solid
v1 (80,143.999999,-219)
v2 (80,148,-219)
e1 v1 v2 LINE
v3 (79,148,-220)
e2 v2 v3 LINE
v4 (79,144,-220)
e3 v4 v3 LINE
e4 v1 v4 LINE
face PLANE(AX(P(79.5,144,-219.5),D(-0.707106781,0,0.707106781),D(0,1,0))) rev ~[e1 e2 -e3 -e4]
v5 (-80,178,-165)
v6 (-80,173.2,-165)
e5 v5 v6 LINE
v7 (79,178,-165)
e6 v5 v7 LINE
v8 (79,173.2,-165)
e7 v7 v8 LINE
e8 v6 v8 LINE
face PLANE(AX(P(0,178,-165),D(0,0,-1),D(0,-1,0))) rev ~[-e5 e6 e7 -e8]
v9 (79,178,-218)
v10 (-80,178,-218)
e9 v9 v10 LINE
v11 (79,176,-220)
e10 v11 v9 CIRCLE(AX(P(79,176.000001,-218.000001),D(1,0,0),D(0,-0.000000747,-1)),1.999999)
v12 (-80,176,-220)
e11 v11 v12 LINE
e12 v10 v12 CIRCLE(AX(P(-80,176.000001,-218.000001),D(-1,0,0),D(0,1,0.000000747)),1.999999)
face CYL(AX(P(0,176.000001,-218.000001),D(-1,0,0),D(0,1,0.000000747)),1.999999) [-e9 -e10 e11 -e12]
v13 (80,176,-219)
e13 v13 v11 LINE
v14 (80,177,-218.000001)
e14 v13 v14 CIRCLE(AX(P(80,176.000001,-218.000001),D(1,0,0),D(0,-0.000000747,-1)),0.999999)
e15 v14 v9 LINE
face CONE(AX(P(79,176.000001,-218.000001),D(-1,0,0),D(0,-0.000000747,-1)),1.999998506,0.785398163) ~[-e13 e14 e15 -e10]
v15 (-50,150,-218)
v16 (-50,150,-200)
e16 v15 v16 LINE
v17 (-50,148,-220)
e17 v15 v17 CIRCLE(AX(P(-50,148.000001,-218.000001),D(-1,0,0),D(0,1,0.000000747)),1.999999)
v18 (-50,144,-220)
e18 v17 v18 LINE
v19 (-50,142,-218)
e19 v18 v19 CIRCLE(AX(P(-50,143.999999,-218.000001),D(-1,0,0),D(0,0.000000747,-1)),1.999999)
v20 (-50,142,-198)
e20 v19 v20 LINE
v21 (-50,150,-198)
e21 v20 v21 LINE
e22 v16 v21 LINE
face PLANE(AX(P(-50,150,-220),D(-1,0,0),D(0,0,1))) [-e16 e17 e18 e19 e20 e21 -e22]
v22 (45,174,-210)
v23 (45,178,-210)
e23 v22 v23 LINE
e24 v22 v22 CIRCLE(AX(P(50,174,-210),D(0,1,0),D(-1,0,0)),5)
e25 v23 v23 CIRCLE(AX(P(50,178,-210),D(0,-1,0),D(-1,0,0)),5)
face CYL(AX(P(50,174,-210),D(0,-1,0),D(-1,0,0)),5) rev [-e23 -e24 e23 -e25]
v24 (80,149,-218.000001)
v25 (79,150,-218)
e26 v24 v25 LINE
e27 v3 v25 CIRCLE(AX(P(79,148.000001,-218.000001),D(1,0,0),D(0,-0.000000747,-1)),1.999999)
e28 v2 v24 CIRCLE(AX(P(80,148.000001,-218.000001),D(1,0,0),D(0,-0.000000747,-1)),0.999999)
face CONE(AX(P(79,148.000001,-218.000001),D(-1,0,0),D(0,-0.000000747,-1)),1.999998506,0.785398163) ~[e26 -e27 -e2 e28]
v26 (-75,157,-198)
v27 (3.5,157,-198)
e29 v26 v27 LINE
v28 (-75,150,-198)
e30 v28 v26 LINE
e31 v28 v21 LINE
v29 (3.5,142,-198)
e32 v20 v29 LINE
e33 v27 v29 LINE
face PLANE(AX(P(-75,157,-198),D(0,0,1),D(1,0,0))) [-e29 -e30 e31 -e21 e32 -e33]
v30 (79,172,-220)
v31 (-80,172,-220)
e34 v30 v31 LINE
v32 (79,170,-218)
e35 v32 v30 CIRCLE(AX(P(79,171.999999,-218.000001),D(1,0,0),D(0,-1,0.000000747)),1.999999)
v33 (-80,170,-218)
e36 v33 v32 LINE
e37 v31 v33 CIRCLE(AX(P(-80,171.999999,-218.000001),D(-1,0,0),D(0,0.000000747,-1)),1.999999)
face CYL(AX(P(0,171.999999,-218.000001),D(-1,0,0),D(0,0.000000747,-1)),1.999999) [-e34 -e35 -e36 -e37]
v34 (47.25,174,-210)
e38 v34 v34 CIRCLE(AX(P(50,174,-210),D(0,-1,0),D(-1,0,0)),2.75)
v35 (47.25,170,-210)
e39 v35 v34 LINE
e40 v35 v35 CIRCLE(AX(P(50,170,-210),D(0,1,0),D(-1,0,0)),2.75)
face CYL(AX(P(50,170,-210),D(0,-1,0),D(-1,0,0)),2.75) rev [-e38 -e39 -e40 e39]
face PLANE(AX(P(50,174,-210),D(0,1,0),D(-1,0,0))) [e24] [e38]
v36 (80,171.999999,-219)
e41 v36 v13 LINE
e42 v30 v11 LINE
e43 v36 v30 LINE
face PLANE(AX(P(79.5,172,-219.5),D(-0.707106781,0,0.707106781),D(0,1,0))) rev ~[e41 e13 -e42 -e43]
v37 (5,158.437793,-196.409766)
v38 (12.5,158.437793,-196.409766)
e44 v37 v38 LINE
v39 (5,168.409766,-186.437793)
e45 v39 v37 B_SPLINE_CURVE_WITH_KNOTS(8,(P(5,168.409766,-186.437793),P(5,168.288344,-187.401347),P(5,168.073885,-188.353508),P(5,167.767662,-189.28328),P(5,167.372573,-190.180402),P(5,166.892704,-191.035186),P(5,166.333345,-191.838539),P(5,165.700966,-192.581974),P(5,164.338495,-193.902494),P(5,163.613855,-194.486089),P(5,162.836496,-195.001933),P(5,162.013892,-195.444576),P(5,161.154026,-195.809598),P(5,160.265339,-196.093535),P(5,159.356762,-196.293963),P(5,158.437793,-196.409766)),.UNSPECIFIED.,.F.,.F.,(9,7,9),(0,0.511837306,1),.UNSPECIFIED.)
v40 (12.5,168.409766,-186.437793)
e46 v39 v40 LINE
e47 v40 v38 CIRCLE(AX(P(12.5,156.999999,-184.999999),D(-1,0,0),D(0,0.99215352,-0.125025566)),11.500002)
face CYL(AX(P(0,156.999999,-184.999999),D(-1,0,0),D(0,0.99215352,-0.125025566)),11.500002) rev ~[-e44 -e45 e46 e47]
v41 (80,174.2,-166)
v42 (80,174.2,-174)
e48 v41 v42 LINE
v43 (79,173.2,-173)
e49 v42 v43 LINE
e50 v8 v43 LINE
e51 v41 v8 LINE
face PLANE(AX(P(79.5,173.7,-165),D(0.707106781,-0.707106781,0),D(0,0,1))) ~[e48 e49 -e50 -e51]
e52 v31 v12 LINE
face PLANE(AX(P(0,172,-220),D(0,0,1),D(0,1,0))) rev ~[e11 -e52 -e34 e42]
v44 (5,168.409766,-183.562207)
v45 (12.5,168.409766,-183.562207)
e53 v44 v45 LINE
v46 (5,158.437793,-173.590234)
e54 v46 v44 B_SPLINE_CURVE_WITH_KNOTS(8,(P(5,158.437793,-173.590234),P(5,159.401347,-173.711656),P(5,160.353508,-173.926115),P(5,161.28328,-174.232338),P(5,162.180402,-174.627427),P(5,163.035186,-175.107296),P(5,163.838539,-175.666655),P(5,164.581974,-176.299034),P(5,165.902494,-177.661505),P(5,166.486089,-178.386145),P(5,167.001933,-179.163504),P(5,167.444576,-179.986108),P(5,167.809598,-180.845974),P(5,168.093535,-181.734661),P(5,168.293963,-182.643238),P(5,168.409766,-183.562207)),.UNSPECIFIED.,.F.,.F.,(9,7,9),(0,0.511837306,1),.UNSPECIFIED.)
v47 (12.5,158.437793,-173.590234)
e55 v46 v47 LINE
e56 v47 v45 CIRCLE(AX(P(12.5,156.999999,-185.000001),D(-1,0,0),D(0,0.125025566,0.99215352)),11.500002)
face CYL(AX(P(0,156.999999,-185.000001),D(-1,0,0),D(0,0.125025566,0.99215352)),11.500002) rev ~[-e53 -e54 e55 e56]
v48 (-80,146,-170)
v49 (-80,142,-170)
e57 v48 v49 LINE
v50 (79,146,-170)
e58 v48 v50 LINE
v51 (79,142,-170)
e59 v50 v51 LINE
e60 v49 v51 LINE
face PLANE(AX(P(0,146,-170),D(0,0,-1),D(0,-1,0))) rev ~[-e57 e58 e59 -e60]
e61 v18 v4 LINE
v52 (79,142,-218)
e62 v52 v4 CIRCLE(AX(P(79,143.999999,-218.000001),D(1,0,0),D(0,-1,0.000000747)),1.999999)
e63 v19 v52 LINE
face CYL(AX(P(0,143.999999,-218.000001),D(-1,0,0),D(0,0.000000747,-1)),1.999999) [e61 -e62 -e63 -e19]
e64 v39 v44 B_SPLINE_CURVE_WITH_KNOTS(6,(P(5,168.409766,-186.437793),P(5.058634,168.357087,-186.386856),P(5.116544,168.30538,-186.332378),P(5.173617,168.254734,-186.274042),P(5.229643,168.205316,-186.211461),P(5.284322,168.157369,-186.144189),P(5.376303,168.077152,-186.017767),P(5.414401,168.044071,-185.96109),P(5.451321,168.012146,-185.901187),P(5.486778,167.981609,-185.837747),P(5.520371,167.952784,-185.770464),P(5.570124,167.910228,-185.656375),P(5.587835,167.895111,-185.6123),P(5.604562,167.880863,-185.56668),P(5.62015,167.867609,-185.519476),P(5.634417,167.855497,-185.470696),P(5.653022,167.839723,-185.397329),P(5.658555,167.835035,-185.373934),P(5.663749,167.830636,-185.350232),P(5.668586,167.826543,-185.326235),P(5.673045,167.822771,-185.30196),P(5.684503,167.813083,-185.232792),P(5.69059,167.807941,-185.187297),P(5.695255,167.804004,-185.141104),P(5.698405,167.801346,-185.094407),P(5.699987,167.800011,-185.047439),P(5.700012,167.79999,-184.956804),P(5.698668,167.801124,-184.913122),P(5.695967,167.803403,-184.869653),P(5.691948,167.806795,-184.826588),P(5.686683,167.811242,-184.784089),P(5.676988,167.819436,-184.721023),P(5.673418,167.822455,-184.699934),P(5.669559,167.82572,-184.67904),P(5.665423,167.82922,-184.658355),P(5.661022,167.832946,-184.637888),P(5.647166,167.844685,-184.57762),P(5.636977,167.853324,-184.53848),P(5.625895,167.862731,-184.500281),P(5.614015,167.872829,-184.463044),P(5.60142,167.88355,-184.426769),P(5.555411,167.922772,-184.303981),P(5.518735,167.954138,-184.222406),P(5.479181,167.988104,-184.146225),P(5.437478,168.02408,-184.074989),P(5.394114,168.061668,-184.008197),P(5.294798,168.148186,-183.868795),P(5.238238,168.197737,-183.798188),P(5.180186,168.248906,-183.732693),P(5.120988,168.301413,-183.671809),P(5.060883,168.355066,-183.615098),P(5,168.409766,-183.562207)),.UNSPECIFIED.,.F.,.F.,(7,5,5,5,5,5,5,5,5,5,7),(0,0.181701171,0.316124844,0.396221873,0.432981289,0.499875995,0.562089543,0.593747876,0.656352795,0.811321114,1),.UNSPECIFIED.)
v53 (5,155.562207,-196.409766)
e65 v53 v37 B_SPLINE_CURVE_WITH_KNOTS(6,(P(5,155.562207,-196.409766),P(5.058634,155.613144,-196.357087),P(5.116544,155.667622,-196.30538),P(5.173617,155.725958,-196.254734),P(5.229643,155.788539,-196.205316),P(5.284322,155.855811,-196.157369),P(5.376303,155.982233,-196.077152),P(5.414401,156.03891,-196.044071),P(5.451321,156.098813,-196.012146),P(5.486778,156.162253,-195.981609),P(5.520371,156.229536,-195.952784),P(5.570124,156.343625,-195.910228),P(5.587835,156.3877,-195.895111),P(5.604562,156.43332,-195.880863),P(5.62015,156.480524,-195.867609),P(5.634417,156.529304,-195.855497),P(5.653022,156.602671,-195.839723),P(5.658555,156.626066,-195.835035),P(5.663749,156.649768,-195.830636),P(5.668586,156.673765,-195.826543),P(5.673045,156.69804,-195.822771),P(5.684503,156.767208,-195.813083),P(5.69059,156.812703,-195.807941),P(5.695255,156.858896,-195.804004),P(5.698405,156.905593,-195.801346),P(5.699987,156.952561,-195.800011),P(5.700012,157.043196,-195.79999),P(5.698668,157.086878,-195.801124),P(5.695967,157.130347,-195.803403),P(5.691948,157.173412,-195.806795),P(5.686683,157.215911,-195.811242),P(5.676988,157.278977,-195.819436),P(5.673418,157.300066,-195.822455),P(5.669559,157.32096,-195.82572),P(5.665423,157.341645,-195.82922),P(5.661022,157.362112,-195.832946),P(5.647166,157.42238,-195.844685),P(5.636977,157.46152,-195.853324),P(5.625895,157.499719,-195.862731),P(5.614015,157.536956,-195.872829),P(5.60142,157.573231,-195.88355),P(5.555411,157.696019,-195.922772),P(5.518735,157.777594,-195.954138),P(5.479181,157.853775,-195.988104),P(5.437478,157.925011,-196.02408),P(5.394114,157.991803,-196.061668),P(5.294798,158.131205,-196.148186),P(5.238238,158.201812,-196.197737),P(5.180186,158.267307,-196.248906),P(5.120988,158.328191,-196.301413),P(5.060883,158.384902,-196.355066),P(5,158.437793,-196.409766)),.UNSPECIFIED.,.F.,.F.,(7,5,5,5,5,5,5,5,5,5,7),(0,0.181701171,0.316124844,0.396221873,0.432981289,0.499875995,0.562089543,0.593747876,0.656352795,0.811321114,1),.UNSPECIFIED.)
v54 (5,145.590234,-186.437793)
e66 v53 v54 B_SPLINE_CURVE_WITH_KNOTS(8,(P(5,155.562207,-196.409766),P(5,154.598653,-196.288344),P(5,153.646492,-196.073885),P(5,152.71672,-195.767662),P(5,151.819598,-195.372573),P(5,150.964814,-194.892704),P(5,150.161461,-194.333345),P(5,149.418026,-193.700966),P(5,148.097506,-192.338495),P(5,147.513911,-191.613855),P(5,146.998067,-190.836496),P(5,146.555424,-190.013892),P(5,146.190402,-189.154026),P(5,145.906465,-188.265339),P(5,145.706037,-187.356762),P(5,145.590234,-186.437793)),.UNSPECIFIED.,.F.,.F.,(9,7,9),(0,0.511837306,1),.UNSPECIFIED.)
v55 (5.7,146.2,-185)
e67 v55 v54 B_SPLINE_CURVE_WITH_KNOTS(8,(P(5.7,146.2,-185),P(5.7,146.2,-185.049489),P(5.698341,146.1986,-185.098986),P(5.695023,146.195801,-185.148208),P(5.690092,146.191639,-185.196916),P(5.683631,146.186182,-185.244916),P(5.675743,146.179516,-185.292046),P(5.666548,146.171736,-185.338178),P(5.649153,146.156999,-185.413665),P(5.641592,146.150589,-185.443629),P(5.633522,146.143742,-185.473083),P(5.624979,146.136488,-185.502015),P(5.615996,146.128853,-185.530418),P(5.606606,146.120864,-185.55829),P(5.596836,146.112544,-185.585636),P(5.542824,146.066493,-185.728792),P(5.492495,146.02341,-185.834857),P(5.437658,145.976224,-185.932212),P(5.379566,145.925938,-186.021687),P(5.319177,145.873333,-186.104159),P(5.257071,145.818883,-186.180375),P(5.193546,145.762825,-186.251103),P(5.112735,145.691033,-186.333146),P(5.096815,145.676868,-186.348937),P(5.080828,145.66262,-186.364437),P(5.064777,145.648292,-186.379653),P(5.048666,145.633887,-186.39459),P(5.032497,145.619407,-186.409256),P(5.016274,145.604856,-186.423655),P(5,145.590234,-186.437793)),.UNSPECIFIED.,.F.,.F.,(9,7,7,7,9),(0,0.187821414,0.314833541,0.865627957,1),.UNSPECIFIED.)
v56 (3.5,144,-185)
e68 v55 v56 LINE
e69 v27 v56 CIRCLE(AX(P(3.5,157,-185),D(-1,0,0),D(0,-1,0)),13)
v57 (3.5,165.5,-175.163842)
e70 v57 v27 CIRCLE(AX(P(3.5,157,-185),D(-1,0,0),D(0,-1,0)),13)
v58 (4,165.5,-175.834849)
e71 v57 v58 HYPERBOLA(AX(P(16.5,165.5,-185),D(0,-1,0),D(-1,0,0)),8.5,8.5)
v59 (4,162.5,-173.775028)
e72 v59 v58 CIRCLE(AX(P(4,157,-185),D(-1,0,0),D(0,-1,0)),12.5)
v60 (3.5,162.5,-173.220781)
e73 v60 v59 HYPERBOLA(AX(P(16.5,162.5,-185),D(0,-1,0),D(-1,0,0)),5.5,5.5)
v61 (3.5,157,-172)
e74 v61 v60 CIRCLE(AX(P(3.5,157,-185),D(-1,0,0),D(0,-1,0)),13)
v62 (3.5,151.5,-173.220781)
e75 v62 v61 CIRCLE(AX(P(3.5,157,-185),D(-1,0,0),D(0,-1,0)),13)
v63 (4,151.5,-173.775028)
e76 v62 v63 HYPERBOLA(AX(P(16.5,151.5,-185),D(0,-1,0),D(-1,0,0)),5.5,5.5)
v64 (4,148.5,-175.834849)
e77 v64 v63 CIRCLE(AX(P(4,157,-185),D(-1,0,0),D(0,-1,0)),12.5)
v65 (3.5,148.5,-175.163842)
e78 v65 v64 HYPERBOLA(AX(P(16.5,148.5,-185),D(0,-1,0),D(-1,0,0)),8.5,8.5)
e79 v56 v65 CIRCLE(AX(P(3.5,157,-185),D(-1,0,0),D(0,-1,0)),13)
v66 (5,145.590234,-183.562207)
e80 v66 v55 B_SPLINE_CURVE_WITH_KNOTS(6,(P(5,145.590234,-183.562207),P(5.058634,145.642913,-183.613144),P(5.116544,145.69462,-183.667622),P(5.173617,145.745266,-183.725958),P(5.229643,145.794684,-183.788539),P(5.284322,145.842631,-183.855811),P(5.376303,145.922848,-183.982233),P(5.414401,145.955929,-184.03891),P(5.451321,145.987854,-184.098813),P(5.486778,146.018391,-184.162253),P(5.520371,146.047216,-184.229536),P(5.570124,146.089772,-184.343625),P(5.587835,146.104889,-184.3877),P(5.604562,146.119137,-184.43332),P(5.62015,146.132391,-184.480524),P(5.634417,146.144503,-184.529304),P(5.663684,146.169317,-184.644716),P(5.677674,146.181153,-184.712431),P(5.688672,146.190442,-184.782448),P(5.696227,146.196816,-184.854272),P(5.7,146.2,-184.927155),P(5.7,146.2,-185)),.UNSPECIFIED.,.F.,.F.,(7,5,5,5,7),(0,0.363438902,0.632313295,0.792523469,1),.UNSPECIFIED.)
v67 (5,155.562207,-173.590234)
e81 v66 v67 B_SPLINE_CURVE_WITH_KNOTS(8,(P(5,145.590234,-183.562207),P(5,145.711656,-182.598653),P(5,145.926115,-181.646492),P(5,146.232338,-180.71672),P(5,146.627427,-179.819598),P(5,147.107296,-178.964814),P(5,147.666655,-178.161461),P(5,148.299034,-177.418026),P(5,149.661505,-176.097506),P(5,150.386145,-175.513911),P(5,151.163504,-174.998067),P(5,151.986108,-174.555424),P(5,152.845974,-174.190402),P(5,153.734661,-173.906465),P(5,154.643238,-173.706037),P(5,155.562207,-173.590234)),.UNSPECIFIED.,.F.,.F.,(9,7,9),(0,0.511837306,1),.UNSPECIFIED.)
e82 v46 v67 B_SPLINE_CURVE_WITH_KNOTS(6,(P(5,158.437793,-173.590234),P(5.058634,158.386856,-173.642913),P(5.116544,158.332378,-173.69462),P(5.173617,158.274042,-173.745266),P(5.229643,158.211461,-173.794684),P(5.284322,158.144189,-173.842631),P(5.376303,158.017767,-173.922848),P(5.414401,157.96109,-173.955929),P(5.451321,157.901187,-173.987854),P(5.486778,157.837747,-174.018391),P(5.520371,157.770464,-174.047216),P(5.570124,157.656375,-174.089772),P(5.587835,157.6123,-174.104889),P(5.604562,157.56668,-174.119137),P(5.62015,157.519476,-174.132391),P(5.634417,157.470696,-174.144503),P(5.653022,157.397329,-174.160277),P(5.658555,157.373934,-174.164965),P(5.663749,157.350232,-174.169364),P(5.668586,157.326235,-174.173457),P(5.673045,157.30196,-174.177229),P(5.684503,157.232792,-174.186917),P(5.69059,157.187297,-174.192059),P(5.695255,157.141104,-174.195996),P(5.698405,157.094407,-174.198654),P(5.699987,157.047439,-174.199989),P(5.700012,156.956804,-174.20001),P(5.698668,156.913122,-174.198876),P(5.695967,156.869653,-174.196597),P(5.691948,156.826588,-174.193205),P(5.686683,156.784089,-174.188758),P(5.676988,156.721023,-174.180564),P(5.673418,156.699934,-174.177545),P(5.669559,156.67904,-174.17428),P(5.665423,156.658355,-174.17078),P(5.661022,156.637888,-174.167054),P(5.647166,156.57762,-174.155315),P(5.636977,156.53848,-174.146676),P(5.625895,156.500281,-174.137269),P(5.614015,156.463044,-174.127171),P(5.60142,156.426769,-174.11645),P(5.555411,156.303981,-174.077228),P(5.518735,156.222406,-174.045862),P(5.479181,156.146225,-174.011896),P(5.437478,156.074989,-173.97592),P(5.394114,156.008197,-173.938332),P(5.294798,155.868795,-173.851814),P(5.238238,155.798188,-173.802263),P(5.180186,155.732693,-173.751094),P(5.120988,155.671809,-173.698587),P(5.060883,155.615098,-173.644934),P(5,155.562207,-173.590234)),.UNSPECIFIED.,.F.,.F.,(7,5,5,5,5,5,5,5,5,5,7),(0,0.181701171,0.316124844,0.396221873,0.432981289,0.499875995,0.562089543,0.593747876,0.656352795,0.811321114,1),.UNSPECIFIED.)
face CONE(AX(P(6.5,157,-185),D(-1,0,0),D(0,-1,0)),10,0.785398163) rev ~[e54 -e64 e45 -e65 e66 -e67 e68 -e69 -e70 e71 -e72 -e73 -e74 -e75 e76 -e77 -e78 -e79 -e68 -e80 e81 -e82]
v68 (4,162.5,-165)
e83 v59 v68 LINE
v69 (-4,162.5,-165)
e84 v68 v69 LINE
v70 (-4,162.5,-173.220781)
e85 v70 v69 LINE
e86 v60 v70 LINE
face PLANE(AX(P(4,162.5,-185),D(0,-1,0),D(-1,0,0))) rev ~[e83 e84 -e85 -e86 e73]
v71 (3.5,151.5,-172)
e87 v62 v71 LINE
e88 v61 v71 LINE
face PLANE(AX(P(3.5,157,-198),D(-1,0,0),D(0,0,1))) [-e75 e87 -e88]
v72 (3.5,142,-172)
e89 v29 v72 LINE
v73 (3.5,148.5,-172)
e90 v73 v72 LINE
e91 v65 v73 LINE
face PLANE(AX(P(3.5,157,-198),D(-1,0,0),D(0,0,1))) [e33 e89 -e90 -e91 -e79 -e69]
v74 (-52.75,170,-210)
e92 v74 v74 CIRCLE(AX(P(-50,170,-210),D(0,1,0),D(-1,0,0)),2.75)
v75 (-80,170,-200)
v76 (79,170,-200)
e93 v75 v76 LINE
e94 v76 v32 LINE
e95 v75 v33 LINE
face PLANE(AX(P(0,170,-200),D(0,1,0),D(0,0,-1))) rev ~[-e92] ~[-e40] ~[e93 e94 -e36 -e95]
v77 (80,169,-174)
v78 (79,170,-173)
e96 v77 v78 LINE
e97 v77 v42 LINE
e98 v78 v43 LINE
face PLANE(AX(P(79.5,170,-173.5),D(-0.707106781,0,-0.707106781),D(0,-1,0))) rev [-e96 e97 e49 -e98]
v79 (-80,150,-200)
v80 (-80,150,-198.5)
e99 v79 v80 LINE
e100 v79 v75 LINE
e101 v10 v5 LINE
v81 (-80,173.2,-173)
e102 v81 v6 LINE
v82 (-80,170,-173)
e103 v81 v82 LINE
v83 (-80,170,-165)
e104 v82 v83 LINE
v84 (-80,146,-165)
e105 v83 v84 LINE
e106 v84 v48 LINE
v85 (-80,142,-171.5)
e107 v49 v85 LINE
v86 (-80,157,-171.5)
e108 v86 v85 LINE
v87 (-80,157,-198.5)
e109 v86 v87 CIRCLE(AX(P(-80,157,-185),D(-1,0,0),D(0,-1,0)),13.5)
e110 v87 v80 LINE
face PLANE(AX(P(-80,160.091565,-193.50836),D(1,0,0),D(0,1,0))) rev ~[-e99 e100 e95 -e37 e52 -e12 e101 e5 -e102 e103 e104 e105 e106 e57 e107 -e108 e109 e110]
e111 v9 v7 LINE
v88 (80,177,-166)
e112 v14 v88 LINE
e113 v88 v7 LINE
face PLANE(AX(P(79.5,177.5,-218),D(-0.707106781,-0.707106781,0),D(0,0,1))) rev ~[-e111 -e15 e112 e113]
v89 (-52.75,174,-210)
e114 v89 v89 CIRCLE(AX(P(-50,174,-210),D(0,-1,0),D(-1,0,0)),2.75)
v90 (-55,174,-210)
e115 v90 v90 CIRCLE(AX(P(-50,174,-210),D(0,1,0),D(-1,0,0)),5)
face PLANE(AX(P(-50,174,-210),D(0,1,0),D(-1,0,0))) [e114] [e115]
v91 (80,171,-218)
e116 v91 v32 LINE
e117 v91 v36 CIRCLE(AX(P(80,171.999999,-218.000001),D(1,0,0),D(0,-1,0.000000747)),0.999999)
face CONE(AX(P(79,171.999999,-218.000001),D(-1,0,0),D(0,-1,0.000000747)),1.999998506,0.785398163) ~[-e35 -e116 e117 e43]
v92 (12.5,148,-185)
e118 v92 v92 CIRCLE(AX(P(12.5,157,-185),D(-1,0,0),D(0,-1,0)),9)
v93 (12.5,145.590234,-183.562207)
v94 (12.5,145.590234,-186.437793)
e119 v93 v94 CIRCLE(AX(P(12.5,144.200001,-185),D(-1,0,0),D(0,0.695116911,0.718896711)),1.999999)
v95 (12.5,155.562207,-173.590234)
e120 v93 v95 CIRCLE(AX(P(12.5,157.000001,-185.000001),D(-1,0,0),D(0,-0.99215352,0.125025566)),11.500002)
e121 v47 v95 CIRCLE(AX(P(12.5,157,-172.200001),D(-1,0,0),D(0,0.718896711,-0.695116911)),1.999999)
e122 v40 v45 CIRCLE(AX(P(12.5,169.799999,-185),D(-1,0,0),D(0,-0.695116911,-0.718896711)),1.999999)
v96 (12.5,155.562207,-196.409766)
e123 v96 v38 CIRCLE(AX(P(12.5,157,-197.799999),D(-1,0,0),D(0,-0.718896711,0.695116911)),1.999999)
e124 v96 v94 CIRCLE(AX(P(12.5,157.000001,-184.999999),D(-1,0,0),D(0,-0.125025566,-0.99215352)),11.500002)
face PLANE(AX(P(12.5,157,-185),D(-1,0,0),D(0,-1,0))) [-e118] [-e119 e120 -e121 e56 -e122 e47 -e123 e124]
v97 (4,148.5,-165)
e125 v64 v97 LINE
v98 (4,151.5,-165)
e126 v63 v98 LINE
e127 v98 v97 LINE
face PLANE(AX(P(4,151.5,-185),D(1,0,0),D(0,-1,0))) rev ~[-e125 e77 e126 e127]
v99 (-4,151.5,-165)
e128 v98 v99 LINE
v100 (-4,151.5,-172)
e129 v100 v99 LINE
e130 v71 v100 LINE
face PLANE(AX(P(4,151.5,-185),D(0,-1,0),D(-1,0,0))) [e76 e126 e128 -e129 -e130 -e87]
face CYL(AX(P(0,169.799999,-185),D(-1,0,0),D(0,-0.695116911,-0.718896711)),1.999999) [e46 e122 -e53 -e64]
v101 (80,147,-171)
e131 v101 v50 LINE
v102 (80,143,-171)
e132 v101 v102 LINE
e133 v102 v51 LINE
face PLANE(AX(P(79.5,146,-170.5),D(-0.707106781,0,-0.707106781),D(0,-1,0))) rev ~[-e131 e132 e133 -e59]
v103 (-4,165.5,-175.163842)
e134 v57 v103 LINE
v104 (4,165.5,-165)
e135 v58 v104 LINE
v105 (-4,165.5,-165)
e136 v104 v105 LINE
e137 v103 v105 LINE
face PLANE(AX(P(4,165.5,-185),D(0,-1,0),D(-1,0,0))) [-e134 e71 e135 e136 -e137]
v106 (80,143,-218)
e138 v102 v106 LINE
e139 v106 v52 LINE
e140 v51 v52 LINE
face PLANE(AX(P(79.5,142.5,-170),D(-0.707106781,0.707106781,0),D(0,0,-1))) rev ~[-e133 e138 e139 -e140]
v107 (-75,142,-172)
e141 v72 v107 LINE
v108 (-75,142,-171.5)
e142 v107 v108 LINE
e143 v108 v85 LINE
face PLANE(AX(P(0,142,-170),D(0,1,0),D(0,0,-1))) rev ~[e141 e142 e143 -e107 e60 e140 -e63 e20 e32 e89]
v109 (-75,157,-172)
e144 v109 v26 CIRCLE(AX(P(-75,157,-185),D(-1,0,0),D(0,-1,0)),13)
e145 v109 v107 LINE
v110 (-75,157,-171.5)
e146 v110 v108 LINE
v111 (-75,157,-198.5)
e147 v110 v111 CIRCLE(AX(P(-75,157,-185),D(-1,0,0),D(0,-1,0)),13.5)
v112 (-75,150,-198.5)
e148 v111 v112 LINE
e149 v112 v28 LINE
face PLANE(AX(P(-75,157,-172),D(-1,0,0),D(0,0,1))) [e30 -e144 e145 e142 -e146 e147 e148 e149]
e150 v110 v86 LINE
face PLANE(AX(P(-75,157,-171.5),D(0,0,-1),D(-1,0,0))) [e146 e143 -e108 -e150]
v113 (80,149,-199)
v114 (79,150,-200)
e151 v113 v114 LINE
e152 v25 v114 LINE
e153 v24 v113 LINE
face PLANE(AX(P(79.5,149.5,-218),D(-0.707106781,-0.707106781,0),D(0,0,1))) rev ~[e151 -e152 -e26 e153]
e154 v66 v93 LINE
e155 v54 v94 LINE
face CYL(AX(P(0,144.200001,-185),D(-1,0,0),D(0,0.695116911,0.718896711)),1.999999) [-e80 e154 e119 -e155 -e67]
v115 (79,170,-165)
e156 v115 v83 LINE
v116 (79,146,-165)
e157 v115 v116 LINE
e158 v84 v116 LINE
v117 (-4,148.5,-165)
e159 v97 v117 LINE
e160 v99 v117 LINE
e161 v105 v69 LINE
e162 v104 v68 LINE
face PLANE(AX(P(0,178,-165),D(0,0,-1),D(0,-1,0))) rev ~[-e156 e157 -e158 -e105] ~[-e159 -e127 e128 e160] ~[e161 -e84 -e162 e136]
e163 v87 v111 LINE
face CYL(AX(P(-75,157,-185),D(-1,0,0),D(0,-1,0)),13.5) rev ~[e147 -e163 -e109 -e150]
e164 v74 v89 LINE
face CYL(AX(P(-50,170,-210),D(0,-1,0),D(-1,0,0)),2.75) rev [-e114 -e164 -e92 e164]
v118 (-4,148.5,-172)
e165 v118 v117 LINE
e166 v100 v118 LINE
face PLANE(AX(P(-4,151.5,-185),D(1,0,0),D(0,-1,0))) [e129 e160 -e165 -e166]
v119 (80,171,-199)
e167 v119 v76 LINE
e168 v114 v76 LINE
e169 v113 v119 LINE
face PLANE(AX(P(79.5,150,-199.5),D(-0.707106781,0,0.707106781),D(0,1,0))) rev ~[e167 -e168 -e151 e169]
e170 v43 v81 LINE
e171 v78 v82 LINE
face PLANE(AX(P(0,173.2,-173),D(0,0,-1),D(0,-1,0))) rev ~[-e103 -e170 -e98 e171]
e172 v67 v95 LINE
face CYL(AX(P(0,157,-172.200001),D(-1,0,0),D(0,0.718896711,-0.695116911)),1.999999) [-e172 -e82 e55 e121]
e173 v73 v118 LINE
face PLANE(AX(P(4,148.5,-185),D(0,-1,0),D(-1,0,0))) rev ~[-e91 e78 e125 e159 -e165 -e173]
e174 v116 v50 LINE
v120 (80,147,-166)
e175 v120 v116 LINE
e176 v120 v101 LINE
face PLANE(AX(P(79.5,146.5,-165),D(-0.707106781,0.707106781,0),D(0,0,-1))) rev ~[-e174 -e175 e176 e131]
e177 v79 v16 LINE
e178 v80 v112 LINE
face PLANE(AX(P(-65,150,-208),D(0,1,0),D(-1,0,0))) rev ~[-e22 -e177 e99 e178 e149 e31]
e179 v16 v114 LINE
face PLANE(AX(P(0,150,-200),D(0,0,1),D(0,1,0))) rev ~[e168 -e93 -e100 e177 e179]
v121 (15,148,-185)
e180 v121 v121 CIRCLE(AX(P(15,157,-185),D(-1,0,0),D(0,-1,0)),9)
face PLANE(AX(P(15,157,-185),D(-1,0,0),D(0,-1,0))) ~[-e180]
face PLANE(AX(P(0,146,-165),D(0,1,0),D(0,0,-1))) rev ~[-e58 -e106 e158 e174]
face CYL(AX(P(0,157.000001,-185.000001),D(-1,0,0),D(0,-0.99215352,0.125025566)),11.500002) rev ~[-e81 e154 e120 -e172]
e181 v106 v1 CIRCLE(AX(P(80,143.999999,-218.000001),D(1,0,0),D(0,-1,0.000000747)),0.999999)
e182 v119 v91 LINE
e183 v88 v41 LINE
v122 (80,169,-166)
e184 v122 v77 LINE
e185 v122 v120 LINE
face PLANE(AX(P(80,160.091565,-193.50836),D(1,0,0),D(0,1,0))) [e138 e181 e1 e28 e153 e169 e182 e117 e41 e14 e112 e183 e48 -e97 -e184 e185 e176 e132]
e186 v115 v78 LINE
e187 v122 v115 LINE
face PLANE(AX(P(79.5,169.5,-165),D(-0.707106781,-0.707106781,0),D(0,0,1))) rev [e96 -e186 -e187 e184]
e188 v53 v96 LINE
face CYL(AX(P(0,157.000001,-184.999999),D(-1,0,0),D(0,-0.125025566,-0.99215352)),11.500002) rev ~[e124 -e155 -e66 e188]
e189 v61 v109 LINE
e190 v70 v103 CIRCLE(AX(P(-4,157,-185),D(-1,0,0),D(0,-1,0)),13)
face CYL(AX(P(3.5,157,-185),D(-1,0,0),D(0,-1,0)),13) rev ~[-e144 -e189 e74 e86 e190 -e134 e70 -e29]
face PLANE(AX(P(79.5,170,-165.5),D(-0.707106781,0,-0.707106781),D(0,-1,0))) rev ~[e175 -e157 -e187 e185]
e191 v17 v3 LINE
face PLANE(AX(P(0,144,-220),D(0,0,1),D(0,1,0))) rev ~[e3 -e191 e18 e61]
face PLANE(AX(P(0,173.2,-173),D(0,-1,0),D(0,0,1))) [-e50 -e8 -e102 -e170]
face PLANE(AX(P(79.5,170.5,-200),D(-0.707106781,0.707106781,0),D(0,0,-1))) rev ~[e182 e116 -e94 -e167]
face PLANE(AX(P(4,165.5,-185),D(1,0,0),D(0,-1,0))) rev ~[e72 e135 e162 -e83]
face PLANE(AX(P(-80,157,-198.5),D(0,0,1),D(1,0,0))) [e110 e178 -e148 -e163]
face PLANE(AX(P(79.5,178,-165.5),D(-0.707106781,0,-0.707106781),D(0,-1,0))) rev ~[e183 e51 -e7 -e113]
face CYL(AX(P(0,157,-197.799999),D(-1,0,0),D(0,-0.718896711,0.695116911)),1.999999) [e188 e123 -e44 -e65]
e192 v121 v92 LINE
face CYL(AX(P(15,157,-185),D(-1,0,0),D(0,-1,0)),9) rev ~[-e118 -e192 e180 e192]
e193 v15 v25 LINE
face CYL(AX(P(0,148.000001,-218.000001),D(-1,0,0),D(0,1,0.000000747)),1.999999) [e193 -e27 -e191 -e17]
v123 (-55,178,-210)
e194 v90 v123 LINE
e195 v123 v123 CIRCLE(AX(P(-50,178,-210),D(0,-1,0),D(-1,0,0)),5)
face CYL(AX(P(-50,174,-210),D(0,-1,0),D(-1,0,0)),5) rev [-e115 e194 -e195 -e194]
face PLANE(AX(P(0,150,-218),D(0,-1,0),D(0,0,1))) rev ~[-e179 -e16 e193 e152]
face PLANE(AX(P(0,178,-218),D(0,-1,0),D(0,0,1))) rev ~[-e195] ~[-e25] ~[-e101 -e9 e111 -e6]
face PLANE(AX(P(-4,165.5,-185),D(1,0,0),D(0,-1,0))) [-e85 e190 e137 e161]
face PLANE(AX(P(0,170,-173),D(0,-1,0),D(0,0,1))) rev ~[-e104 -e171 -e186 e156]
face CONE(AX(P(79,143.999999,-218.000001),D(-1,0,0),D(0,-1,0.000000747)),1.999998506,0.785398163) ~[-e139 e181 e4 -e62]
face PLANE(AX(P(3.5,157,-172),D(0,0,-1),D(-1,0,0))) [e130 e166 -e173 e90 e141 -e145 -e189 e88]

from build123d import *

# Parameters (mm, degrees)
PAD119_DEPTH            = 80
SKETCH530_R             = 2.75
POCKET373_DEPTH         = 8.001
SKETCH531_R             = 5
POCKET374_DEPTH         = 4.001
SKETCH538_W             = 3.2
SKETCH538_H             = 8
POCKET380_DEPTH         = 80.001
POCKET380_DEPTH_BACK    = 80.001
SKETCH550_W             = 30
SKETCH550_H             = 24
POCKET390_DEPTH         = 8.001
POCKET448_DEPTH         = 15.001
SKETCH625_W             = 8
SKETCH625_H             = 3
POCKET449_DEPTH         = 20.001
CHAMFER034_SIZE         = 1
POCKET477_DEPTH         = 12.5
BODY192_PLACEMENT_ANGLE = 180


with BuildPart() as part:
    # Sketch529 → Pad119 (new body, symmetric)
    with BuildSketch(Plane.YZ):
        with BuildLine():
            Line((-8, 2), (-8, 55))
            Line((-8, 55), (24, 55))
            Line((24, 55), (24, 50))
            Line((24, 50), (28, 50))
            Line((28, 50), (28, 2))
            ThreePointArc((26, 0), (27.414214, 0.585786), (28, 2))
            Line((26, 0), (22, 0))
            ThreePointArc((20, 2), (20.585786, 0.585786), (22, 0))
            Line((20, 2), (20, 20))
            Line((20, 20), (0, 20))
            Line((0, 20), (0, 2))
            ThreePointArc((-2, 0), (-0.585786, 0.585786), (0, 2))
            Line((-2, 0), (-6, 0))
            ThreePointArc((-8, 2), (-7.414214, 0.585786), (-6, 0))
        make_face()
    extrude(amount=PAD119_DEPTH, both=True)

    # Sketch530 → Pocket373 (cut, through all)
    with BuildSketch(Plane.XZ):
        with Locations((-50, 10)):
            Circle(SKETCH530_R)
        with Locations((50, 10)):
            Circle(SKETCH530_R)
    extrude(amount=POCKET373_DEPTH, mode=Mode.SUBTRACT)

    # Sketch531 → Pocket374 (cut, through all)
    with BuildSketch(Plane.XZ.offset(4)):
        with Locations((50, 10)):
            Circle(SKETCH531_R)
        with Locations((-50, 10)):
            Circle(SKETCH531_R)
    extrude(amount=POCKET374_DEPTH, mode=Mode.SUBTRACT)

    # Sketch538 → Pocket380 (cut, two sides)
    with BuildSketch(Plane.YZ) as pocket380_sk:
        with Locations((-1.6, 51)):
            Rectangle(SKETCH538_W, SKETCH538_H)
    extrude(amount=-POCKET380_DEPTH, mode=Mode.SUBTRACT)
    extrude(pocket380_sk.sketch, amount=POCKET380_DEPTH_BACK, mode=Mode.SUBTRACT)

    # Sketch550 → Pocket390 (cut, through all)
    with BuildSketch(Plane.XZ.offset(-20)):
        with Locations((65, 12)):
            Rectangle(SKETCH550_W, SKETCH550_H)
    extrude(amount=-POCKET390_DEPTH, mode=Mode.SUBTRACT)

    # Sketch623 → Groove022 (revolve, cut)
    with BuildSketch(Plane(origin=(0, 13, 35), x_dir=(1, 0, 0), z_dir=(0, 0, 1))):
        Polygon((-15, 0), (-15, 9), (-12.5, 9), (-12.5, 10), (-6.5, 10), (-3.5, 13), (75, 13), (75, 13.5), (80, 13.5), (80, 0), align=None)
    revolve(axis=Axis((0, 13, 35), (1, 0, 0)), mode=Mode.SUBTRACT)

    # Sketch624 → Pocket448 (cut, through all)
    with BuildSketch(Plane(origin=(0, 13, 35), x_dir=(1, 0, 0), z_dir=(0, -1, 0))):
        Polygon((-3.5, -13), (-3.5, 13), (75, 13), (75, 13.5), (80, 13.5), (80, -13.5), (75, -13.5), (75, -13), align=None)
    extrude(amount=-POCKET448_DEPTH, mode=Mode.SUBTRACT)

    # Sketch625 → Pocket449 (cut, through all)
    with BuildSketch(Plane(origin=(0, 13, 35), x_dir=(1, 0, 0), z_dir=(0, 0, 1))):
        with Locations((0, 7)):
            Rectangle(SKETCH625_W, SKETCH625_H)
        with Locations((0, -7)):
            Rectangle(SKETCH625_W, SKETCH625_H)
    extrude(amount=POCKET449_DEPTH, mode=Mode.SUBTRACT)

    # Chamfer034
    chamfer034_edges = [part.edges().sort_by_distance(p)[0] for p in [
        (-80, -4, 0),
        (-80, -7.414214, 0.585786),
        (-80, -8, 28.5),
        (-80, -5.6, 55),
        (-80, -3.2, 51),
        (-80, -1.6, 47),
        (-80, 0, 51),
        (-80, 12, 55),
        (-80, 24, 52.5),
        (-80, 26, 50),
        (-80, 28, 26),
        (-80, 27.414214, 0.585786),
        (-80, 24, 0),
        (-80, 20.585786, 0.585786),
        (-80, 20, 11),
        (-80, 10, 20),
        (-80, 0, 11),
        (-80, -0.585786, 0.585786),
    ]]
    chamfer(chamfer034_edges, length=CHAMFER034_SIZE)

    # Sketch666 → Pocket477 (cut)
    with BuildSketch(Plane.YZ):
        with BuildLine():
            ThreePointArc((11.562207, 46.409766), (4.868272, 43.131728), (1.590234, 36.437793))
            ThreePointArc((1.590234, 33.562207), (2.2, 35), (1.590234, 36.437793))
            ThreePointArc((1.590234, 33.562207), (4.868272, 26.868272), (11.562207, 23.590234))
            ThreePointArc((14.437793, 23.590234), (13, 24.2), (11.562207, 23.590234))
            ThreePointArc((14.437793, 23.590234), (21.131728, 26.868272), (24.409766, 33.562207))
            ThreePointArc((24.409766, 36.437793), (23.8, 35), (24.409766, 33.562207))
            ThreePointArc((24.409766, 36.437793), (21.131728, 43.131728), (14.437793, 46.409766))
            ThreePointArc((11.562207, 46.409766), (13, 45.8), (14.437793, 46.409766))
        make_face()
    extrude(amount=-POCKET477_DEPTH, mode=Mode.SUBTRACT)


with BuildPart() as part_1:
    # Body192 placement: moved
    add(part.part.moved(Location((0, 170, -220))).rotate(Axis((0, 170, -220), (0, 0, 1)), BODY192_PLACEMENT_ANGLE))


solid = part_1.part
